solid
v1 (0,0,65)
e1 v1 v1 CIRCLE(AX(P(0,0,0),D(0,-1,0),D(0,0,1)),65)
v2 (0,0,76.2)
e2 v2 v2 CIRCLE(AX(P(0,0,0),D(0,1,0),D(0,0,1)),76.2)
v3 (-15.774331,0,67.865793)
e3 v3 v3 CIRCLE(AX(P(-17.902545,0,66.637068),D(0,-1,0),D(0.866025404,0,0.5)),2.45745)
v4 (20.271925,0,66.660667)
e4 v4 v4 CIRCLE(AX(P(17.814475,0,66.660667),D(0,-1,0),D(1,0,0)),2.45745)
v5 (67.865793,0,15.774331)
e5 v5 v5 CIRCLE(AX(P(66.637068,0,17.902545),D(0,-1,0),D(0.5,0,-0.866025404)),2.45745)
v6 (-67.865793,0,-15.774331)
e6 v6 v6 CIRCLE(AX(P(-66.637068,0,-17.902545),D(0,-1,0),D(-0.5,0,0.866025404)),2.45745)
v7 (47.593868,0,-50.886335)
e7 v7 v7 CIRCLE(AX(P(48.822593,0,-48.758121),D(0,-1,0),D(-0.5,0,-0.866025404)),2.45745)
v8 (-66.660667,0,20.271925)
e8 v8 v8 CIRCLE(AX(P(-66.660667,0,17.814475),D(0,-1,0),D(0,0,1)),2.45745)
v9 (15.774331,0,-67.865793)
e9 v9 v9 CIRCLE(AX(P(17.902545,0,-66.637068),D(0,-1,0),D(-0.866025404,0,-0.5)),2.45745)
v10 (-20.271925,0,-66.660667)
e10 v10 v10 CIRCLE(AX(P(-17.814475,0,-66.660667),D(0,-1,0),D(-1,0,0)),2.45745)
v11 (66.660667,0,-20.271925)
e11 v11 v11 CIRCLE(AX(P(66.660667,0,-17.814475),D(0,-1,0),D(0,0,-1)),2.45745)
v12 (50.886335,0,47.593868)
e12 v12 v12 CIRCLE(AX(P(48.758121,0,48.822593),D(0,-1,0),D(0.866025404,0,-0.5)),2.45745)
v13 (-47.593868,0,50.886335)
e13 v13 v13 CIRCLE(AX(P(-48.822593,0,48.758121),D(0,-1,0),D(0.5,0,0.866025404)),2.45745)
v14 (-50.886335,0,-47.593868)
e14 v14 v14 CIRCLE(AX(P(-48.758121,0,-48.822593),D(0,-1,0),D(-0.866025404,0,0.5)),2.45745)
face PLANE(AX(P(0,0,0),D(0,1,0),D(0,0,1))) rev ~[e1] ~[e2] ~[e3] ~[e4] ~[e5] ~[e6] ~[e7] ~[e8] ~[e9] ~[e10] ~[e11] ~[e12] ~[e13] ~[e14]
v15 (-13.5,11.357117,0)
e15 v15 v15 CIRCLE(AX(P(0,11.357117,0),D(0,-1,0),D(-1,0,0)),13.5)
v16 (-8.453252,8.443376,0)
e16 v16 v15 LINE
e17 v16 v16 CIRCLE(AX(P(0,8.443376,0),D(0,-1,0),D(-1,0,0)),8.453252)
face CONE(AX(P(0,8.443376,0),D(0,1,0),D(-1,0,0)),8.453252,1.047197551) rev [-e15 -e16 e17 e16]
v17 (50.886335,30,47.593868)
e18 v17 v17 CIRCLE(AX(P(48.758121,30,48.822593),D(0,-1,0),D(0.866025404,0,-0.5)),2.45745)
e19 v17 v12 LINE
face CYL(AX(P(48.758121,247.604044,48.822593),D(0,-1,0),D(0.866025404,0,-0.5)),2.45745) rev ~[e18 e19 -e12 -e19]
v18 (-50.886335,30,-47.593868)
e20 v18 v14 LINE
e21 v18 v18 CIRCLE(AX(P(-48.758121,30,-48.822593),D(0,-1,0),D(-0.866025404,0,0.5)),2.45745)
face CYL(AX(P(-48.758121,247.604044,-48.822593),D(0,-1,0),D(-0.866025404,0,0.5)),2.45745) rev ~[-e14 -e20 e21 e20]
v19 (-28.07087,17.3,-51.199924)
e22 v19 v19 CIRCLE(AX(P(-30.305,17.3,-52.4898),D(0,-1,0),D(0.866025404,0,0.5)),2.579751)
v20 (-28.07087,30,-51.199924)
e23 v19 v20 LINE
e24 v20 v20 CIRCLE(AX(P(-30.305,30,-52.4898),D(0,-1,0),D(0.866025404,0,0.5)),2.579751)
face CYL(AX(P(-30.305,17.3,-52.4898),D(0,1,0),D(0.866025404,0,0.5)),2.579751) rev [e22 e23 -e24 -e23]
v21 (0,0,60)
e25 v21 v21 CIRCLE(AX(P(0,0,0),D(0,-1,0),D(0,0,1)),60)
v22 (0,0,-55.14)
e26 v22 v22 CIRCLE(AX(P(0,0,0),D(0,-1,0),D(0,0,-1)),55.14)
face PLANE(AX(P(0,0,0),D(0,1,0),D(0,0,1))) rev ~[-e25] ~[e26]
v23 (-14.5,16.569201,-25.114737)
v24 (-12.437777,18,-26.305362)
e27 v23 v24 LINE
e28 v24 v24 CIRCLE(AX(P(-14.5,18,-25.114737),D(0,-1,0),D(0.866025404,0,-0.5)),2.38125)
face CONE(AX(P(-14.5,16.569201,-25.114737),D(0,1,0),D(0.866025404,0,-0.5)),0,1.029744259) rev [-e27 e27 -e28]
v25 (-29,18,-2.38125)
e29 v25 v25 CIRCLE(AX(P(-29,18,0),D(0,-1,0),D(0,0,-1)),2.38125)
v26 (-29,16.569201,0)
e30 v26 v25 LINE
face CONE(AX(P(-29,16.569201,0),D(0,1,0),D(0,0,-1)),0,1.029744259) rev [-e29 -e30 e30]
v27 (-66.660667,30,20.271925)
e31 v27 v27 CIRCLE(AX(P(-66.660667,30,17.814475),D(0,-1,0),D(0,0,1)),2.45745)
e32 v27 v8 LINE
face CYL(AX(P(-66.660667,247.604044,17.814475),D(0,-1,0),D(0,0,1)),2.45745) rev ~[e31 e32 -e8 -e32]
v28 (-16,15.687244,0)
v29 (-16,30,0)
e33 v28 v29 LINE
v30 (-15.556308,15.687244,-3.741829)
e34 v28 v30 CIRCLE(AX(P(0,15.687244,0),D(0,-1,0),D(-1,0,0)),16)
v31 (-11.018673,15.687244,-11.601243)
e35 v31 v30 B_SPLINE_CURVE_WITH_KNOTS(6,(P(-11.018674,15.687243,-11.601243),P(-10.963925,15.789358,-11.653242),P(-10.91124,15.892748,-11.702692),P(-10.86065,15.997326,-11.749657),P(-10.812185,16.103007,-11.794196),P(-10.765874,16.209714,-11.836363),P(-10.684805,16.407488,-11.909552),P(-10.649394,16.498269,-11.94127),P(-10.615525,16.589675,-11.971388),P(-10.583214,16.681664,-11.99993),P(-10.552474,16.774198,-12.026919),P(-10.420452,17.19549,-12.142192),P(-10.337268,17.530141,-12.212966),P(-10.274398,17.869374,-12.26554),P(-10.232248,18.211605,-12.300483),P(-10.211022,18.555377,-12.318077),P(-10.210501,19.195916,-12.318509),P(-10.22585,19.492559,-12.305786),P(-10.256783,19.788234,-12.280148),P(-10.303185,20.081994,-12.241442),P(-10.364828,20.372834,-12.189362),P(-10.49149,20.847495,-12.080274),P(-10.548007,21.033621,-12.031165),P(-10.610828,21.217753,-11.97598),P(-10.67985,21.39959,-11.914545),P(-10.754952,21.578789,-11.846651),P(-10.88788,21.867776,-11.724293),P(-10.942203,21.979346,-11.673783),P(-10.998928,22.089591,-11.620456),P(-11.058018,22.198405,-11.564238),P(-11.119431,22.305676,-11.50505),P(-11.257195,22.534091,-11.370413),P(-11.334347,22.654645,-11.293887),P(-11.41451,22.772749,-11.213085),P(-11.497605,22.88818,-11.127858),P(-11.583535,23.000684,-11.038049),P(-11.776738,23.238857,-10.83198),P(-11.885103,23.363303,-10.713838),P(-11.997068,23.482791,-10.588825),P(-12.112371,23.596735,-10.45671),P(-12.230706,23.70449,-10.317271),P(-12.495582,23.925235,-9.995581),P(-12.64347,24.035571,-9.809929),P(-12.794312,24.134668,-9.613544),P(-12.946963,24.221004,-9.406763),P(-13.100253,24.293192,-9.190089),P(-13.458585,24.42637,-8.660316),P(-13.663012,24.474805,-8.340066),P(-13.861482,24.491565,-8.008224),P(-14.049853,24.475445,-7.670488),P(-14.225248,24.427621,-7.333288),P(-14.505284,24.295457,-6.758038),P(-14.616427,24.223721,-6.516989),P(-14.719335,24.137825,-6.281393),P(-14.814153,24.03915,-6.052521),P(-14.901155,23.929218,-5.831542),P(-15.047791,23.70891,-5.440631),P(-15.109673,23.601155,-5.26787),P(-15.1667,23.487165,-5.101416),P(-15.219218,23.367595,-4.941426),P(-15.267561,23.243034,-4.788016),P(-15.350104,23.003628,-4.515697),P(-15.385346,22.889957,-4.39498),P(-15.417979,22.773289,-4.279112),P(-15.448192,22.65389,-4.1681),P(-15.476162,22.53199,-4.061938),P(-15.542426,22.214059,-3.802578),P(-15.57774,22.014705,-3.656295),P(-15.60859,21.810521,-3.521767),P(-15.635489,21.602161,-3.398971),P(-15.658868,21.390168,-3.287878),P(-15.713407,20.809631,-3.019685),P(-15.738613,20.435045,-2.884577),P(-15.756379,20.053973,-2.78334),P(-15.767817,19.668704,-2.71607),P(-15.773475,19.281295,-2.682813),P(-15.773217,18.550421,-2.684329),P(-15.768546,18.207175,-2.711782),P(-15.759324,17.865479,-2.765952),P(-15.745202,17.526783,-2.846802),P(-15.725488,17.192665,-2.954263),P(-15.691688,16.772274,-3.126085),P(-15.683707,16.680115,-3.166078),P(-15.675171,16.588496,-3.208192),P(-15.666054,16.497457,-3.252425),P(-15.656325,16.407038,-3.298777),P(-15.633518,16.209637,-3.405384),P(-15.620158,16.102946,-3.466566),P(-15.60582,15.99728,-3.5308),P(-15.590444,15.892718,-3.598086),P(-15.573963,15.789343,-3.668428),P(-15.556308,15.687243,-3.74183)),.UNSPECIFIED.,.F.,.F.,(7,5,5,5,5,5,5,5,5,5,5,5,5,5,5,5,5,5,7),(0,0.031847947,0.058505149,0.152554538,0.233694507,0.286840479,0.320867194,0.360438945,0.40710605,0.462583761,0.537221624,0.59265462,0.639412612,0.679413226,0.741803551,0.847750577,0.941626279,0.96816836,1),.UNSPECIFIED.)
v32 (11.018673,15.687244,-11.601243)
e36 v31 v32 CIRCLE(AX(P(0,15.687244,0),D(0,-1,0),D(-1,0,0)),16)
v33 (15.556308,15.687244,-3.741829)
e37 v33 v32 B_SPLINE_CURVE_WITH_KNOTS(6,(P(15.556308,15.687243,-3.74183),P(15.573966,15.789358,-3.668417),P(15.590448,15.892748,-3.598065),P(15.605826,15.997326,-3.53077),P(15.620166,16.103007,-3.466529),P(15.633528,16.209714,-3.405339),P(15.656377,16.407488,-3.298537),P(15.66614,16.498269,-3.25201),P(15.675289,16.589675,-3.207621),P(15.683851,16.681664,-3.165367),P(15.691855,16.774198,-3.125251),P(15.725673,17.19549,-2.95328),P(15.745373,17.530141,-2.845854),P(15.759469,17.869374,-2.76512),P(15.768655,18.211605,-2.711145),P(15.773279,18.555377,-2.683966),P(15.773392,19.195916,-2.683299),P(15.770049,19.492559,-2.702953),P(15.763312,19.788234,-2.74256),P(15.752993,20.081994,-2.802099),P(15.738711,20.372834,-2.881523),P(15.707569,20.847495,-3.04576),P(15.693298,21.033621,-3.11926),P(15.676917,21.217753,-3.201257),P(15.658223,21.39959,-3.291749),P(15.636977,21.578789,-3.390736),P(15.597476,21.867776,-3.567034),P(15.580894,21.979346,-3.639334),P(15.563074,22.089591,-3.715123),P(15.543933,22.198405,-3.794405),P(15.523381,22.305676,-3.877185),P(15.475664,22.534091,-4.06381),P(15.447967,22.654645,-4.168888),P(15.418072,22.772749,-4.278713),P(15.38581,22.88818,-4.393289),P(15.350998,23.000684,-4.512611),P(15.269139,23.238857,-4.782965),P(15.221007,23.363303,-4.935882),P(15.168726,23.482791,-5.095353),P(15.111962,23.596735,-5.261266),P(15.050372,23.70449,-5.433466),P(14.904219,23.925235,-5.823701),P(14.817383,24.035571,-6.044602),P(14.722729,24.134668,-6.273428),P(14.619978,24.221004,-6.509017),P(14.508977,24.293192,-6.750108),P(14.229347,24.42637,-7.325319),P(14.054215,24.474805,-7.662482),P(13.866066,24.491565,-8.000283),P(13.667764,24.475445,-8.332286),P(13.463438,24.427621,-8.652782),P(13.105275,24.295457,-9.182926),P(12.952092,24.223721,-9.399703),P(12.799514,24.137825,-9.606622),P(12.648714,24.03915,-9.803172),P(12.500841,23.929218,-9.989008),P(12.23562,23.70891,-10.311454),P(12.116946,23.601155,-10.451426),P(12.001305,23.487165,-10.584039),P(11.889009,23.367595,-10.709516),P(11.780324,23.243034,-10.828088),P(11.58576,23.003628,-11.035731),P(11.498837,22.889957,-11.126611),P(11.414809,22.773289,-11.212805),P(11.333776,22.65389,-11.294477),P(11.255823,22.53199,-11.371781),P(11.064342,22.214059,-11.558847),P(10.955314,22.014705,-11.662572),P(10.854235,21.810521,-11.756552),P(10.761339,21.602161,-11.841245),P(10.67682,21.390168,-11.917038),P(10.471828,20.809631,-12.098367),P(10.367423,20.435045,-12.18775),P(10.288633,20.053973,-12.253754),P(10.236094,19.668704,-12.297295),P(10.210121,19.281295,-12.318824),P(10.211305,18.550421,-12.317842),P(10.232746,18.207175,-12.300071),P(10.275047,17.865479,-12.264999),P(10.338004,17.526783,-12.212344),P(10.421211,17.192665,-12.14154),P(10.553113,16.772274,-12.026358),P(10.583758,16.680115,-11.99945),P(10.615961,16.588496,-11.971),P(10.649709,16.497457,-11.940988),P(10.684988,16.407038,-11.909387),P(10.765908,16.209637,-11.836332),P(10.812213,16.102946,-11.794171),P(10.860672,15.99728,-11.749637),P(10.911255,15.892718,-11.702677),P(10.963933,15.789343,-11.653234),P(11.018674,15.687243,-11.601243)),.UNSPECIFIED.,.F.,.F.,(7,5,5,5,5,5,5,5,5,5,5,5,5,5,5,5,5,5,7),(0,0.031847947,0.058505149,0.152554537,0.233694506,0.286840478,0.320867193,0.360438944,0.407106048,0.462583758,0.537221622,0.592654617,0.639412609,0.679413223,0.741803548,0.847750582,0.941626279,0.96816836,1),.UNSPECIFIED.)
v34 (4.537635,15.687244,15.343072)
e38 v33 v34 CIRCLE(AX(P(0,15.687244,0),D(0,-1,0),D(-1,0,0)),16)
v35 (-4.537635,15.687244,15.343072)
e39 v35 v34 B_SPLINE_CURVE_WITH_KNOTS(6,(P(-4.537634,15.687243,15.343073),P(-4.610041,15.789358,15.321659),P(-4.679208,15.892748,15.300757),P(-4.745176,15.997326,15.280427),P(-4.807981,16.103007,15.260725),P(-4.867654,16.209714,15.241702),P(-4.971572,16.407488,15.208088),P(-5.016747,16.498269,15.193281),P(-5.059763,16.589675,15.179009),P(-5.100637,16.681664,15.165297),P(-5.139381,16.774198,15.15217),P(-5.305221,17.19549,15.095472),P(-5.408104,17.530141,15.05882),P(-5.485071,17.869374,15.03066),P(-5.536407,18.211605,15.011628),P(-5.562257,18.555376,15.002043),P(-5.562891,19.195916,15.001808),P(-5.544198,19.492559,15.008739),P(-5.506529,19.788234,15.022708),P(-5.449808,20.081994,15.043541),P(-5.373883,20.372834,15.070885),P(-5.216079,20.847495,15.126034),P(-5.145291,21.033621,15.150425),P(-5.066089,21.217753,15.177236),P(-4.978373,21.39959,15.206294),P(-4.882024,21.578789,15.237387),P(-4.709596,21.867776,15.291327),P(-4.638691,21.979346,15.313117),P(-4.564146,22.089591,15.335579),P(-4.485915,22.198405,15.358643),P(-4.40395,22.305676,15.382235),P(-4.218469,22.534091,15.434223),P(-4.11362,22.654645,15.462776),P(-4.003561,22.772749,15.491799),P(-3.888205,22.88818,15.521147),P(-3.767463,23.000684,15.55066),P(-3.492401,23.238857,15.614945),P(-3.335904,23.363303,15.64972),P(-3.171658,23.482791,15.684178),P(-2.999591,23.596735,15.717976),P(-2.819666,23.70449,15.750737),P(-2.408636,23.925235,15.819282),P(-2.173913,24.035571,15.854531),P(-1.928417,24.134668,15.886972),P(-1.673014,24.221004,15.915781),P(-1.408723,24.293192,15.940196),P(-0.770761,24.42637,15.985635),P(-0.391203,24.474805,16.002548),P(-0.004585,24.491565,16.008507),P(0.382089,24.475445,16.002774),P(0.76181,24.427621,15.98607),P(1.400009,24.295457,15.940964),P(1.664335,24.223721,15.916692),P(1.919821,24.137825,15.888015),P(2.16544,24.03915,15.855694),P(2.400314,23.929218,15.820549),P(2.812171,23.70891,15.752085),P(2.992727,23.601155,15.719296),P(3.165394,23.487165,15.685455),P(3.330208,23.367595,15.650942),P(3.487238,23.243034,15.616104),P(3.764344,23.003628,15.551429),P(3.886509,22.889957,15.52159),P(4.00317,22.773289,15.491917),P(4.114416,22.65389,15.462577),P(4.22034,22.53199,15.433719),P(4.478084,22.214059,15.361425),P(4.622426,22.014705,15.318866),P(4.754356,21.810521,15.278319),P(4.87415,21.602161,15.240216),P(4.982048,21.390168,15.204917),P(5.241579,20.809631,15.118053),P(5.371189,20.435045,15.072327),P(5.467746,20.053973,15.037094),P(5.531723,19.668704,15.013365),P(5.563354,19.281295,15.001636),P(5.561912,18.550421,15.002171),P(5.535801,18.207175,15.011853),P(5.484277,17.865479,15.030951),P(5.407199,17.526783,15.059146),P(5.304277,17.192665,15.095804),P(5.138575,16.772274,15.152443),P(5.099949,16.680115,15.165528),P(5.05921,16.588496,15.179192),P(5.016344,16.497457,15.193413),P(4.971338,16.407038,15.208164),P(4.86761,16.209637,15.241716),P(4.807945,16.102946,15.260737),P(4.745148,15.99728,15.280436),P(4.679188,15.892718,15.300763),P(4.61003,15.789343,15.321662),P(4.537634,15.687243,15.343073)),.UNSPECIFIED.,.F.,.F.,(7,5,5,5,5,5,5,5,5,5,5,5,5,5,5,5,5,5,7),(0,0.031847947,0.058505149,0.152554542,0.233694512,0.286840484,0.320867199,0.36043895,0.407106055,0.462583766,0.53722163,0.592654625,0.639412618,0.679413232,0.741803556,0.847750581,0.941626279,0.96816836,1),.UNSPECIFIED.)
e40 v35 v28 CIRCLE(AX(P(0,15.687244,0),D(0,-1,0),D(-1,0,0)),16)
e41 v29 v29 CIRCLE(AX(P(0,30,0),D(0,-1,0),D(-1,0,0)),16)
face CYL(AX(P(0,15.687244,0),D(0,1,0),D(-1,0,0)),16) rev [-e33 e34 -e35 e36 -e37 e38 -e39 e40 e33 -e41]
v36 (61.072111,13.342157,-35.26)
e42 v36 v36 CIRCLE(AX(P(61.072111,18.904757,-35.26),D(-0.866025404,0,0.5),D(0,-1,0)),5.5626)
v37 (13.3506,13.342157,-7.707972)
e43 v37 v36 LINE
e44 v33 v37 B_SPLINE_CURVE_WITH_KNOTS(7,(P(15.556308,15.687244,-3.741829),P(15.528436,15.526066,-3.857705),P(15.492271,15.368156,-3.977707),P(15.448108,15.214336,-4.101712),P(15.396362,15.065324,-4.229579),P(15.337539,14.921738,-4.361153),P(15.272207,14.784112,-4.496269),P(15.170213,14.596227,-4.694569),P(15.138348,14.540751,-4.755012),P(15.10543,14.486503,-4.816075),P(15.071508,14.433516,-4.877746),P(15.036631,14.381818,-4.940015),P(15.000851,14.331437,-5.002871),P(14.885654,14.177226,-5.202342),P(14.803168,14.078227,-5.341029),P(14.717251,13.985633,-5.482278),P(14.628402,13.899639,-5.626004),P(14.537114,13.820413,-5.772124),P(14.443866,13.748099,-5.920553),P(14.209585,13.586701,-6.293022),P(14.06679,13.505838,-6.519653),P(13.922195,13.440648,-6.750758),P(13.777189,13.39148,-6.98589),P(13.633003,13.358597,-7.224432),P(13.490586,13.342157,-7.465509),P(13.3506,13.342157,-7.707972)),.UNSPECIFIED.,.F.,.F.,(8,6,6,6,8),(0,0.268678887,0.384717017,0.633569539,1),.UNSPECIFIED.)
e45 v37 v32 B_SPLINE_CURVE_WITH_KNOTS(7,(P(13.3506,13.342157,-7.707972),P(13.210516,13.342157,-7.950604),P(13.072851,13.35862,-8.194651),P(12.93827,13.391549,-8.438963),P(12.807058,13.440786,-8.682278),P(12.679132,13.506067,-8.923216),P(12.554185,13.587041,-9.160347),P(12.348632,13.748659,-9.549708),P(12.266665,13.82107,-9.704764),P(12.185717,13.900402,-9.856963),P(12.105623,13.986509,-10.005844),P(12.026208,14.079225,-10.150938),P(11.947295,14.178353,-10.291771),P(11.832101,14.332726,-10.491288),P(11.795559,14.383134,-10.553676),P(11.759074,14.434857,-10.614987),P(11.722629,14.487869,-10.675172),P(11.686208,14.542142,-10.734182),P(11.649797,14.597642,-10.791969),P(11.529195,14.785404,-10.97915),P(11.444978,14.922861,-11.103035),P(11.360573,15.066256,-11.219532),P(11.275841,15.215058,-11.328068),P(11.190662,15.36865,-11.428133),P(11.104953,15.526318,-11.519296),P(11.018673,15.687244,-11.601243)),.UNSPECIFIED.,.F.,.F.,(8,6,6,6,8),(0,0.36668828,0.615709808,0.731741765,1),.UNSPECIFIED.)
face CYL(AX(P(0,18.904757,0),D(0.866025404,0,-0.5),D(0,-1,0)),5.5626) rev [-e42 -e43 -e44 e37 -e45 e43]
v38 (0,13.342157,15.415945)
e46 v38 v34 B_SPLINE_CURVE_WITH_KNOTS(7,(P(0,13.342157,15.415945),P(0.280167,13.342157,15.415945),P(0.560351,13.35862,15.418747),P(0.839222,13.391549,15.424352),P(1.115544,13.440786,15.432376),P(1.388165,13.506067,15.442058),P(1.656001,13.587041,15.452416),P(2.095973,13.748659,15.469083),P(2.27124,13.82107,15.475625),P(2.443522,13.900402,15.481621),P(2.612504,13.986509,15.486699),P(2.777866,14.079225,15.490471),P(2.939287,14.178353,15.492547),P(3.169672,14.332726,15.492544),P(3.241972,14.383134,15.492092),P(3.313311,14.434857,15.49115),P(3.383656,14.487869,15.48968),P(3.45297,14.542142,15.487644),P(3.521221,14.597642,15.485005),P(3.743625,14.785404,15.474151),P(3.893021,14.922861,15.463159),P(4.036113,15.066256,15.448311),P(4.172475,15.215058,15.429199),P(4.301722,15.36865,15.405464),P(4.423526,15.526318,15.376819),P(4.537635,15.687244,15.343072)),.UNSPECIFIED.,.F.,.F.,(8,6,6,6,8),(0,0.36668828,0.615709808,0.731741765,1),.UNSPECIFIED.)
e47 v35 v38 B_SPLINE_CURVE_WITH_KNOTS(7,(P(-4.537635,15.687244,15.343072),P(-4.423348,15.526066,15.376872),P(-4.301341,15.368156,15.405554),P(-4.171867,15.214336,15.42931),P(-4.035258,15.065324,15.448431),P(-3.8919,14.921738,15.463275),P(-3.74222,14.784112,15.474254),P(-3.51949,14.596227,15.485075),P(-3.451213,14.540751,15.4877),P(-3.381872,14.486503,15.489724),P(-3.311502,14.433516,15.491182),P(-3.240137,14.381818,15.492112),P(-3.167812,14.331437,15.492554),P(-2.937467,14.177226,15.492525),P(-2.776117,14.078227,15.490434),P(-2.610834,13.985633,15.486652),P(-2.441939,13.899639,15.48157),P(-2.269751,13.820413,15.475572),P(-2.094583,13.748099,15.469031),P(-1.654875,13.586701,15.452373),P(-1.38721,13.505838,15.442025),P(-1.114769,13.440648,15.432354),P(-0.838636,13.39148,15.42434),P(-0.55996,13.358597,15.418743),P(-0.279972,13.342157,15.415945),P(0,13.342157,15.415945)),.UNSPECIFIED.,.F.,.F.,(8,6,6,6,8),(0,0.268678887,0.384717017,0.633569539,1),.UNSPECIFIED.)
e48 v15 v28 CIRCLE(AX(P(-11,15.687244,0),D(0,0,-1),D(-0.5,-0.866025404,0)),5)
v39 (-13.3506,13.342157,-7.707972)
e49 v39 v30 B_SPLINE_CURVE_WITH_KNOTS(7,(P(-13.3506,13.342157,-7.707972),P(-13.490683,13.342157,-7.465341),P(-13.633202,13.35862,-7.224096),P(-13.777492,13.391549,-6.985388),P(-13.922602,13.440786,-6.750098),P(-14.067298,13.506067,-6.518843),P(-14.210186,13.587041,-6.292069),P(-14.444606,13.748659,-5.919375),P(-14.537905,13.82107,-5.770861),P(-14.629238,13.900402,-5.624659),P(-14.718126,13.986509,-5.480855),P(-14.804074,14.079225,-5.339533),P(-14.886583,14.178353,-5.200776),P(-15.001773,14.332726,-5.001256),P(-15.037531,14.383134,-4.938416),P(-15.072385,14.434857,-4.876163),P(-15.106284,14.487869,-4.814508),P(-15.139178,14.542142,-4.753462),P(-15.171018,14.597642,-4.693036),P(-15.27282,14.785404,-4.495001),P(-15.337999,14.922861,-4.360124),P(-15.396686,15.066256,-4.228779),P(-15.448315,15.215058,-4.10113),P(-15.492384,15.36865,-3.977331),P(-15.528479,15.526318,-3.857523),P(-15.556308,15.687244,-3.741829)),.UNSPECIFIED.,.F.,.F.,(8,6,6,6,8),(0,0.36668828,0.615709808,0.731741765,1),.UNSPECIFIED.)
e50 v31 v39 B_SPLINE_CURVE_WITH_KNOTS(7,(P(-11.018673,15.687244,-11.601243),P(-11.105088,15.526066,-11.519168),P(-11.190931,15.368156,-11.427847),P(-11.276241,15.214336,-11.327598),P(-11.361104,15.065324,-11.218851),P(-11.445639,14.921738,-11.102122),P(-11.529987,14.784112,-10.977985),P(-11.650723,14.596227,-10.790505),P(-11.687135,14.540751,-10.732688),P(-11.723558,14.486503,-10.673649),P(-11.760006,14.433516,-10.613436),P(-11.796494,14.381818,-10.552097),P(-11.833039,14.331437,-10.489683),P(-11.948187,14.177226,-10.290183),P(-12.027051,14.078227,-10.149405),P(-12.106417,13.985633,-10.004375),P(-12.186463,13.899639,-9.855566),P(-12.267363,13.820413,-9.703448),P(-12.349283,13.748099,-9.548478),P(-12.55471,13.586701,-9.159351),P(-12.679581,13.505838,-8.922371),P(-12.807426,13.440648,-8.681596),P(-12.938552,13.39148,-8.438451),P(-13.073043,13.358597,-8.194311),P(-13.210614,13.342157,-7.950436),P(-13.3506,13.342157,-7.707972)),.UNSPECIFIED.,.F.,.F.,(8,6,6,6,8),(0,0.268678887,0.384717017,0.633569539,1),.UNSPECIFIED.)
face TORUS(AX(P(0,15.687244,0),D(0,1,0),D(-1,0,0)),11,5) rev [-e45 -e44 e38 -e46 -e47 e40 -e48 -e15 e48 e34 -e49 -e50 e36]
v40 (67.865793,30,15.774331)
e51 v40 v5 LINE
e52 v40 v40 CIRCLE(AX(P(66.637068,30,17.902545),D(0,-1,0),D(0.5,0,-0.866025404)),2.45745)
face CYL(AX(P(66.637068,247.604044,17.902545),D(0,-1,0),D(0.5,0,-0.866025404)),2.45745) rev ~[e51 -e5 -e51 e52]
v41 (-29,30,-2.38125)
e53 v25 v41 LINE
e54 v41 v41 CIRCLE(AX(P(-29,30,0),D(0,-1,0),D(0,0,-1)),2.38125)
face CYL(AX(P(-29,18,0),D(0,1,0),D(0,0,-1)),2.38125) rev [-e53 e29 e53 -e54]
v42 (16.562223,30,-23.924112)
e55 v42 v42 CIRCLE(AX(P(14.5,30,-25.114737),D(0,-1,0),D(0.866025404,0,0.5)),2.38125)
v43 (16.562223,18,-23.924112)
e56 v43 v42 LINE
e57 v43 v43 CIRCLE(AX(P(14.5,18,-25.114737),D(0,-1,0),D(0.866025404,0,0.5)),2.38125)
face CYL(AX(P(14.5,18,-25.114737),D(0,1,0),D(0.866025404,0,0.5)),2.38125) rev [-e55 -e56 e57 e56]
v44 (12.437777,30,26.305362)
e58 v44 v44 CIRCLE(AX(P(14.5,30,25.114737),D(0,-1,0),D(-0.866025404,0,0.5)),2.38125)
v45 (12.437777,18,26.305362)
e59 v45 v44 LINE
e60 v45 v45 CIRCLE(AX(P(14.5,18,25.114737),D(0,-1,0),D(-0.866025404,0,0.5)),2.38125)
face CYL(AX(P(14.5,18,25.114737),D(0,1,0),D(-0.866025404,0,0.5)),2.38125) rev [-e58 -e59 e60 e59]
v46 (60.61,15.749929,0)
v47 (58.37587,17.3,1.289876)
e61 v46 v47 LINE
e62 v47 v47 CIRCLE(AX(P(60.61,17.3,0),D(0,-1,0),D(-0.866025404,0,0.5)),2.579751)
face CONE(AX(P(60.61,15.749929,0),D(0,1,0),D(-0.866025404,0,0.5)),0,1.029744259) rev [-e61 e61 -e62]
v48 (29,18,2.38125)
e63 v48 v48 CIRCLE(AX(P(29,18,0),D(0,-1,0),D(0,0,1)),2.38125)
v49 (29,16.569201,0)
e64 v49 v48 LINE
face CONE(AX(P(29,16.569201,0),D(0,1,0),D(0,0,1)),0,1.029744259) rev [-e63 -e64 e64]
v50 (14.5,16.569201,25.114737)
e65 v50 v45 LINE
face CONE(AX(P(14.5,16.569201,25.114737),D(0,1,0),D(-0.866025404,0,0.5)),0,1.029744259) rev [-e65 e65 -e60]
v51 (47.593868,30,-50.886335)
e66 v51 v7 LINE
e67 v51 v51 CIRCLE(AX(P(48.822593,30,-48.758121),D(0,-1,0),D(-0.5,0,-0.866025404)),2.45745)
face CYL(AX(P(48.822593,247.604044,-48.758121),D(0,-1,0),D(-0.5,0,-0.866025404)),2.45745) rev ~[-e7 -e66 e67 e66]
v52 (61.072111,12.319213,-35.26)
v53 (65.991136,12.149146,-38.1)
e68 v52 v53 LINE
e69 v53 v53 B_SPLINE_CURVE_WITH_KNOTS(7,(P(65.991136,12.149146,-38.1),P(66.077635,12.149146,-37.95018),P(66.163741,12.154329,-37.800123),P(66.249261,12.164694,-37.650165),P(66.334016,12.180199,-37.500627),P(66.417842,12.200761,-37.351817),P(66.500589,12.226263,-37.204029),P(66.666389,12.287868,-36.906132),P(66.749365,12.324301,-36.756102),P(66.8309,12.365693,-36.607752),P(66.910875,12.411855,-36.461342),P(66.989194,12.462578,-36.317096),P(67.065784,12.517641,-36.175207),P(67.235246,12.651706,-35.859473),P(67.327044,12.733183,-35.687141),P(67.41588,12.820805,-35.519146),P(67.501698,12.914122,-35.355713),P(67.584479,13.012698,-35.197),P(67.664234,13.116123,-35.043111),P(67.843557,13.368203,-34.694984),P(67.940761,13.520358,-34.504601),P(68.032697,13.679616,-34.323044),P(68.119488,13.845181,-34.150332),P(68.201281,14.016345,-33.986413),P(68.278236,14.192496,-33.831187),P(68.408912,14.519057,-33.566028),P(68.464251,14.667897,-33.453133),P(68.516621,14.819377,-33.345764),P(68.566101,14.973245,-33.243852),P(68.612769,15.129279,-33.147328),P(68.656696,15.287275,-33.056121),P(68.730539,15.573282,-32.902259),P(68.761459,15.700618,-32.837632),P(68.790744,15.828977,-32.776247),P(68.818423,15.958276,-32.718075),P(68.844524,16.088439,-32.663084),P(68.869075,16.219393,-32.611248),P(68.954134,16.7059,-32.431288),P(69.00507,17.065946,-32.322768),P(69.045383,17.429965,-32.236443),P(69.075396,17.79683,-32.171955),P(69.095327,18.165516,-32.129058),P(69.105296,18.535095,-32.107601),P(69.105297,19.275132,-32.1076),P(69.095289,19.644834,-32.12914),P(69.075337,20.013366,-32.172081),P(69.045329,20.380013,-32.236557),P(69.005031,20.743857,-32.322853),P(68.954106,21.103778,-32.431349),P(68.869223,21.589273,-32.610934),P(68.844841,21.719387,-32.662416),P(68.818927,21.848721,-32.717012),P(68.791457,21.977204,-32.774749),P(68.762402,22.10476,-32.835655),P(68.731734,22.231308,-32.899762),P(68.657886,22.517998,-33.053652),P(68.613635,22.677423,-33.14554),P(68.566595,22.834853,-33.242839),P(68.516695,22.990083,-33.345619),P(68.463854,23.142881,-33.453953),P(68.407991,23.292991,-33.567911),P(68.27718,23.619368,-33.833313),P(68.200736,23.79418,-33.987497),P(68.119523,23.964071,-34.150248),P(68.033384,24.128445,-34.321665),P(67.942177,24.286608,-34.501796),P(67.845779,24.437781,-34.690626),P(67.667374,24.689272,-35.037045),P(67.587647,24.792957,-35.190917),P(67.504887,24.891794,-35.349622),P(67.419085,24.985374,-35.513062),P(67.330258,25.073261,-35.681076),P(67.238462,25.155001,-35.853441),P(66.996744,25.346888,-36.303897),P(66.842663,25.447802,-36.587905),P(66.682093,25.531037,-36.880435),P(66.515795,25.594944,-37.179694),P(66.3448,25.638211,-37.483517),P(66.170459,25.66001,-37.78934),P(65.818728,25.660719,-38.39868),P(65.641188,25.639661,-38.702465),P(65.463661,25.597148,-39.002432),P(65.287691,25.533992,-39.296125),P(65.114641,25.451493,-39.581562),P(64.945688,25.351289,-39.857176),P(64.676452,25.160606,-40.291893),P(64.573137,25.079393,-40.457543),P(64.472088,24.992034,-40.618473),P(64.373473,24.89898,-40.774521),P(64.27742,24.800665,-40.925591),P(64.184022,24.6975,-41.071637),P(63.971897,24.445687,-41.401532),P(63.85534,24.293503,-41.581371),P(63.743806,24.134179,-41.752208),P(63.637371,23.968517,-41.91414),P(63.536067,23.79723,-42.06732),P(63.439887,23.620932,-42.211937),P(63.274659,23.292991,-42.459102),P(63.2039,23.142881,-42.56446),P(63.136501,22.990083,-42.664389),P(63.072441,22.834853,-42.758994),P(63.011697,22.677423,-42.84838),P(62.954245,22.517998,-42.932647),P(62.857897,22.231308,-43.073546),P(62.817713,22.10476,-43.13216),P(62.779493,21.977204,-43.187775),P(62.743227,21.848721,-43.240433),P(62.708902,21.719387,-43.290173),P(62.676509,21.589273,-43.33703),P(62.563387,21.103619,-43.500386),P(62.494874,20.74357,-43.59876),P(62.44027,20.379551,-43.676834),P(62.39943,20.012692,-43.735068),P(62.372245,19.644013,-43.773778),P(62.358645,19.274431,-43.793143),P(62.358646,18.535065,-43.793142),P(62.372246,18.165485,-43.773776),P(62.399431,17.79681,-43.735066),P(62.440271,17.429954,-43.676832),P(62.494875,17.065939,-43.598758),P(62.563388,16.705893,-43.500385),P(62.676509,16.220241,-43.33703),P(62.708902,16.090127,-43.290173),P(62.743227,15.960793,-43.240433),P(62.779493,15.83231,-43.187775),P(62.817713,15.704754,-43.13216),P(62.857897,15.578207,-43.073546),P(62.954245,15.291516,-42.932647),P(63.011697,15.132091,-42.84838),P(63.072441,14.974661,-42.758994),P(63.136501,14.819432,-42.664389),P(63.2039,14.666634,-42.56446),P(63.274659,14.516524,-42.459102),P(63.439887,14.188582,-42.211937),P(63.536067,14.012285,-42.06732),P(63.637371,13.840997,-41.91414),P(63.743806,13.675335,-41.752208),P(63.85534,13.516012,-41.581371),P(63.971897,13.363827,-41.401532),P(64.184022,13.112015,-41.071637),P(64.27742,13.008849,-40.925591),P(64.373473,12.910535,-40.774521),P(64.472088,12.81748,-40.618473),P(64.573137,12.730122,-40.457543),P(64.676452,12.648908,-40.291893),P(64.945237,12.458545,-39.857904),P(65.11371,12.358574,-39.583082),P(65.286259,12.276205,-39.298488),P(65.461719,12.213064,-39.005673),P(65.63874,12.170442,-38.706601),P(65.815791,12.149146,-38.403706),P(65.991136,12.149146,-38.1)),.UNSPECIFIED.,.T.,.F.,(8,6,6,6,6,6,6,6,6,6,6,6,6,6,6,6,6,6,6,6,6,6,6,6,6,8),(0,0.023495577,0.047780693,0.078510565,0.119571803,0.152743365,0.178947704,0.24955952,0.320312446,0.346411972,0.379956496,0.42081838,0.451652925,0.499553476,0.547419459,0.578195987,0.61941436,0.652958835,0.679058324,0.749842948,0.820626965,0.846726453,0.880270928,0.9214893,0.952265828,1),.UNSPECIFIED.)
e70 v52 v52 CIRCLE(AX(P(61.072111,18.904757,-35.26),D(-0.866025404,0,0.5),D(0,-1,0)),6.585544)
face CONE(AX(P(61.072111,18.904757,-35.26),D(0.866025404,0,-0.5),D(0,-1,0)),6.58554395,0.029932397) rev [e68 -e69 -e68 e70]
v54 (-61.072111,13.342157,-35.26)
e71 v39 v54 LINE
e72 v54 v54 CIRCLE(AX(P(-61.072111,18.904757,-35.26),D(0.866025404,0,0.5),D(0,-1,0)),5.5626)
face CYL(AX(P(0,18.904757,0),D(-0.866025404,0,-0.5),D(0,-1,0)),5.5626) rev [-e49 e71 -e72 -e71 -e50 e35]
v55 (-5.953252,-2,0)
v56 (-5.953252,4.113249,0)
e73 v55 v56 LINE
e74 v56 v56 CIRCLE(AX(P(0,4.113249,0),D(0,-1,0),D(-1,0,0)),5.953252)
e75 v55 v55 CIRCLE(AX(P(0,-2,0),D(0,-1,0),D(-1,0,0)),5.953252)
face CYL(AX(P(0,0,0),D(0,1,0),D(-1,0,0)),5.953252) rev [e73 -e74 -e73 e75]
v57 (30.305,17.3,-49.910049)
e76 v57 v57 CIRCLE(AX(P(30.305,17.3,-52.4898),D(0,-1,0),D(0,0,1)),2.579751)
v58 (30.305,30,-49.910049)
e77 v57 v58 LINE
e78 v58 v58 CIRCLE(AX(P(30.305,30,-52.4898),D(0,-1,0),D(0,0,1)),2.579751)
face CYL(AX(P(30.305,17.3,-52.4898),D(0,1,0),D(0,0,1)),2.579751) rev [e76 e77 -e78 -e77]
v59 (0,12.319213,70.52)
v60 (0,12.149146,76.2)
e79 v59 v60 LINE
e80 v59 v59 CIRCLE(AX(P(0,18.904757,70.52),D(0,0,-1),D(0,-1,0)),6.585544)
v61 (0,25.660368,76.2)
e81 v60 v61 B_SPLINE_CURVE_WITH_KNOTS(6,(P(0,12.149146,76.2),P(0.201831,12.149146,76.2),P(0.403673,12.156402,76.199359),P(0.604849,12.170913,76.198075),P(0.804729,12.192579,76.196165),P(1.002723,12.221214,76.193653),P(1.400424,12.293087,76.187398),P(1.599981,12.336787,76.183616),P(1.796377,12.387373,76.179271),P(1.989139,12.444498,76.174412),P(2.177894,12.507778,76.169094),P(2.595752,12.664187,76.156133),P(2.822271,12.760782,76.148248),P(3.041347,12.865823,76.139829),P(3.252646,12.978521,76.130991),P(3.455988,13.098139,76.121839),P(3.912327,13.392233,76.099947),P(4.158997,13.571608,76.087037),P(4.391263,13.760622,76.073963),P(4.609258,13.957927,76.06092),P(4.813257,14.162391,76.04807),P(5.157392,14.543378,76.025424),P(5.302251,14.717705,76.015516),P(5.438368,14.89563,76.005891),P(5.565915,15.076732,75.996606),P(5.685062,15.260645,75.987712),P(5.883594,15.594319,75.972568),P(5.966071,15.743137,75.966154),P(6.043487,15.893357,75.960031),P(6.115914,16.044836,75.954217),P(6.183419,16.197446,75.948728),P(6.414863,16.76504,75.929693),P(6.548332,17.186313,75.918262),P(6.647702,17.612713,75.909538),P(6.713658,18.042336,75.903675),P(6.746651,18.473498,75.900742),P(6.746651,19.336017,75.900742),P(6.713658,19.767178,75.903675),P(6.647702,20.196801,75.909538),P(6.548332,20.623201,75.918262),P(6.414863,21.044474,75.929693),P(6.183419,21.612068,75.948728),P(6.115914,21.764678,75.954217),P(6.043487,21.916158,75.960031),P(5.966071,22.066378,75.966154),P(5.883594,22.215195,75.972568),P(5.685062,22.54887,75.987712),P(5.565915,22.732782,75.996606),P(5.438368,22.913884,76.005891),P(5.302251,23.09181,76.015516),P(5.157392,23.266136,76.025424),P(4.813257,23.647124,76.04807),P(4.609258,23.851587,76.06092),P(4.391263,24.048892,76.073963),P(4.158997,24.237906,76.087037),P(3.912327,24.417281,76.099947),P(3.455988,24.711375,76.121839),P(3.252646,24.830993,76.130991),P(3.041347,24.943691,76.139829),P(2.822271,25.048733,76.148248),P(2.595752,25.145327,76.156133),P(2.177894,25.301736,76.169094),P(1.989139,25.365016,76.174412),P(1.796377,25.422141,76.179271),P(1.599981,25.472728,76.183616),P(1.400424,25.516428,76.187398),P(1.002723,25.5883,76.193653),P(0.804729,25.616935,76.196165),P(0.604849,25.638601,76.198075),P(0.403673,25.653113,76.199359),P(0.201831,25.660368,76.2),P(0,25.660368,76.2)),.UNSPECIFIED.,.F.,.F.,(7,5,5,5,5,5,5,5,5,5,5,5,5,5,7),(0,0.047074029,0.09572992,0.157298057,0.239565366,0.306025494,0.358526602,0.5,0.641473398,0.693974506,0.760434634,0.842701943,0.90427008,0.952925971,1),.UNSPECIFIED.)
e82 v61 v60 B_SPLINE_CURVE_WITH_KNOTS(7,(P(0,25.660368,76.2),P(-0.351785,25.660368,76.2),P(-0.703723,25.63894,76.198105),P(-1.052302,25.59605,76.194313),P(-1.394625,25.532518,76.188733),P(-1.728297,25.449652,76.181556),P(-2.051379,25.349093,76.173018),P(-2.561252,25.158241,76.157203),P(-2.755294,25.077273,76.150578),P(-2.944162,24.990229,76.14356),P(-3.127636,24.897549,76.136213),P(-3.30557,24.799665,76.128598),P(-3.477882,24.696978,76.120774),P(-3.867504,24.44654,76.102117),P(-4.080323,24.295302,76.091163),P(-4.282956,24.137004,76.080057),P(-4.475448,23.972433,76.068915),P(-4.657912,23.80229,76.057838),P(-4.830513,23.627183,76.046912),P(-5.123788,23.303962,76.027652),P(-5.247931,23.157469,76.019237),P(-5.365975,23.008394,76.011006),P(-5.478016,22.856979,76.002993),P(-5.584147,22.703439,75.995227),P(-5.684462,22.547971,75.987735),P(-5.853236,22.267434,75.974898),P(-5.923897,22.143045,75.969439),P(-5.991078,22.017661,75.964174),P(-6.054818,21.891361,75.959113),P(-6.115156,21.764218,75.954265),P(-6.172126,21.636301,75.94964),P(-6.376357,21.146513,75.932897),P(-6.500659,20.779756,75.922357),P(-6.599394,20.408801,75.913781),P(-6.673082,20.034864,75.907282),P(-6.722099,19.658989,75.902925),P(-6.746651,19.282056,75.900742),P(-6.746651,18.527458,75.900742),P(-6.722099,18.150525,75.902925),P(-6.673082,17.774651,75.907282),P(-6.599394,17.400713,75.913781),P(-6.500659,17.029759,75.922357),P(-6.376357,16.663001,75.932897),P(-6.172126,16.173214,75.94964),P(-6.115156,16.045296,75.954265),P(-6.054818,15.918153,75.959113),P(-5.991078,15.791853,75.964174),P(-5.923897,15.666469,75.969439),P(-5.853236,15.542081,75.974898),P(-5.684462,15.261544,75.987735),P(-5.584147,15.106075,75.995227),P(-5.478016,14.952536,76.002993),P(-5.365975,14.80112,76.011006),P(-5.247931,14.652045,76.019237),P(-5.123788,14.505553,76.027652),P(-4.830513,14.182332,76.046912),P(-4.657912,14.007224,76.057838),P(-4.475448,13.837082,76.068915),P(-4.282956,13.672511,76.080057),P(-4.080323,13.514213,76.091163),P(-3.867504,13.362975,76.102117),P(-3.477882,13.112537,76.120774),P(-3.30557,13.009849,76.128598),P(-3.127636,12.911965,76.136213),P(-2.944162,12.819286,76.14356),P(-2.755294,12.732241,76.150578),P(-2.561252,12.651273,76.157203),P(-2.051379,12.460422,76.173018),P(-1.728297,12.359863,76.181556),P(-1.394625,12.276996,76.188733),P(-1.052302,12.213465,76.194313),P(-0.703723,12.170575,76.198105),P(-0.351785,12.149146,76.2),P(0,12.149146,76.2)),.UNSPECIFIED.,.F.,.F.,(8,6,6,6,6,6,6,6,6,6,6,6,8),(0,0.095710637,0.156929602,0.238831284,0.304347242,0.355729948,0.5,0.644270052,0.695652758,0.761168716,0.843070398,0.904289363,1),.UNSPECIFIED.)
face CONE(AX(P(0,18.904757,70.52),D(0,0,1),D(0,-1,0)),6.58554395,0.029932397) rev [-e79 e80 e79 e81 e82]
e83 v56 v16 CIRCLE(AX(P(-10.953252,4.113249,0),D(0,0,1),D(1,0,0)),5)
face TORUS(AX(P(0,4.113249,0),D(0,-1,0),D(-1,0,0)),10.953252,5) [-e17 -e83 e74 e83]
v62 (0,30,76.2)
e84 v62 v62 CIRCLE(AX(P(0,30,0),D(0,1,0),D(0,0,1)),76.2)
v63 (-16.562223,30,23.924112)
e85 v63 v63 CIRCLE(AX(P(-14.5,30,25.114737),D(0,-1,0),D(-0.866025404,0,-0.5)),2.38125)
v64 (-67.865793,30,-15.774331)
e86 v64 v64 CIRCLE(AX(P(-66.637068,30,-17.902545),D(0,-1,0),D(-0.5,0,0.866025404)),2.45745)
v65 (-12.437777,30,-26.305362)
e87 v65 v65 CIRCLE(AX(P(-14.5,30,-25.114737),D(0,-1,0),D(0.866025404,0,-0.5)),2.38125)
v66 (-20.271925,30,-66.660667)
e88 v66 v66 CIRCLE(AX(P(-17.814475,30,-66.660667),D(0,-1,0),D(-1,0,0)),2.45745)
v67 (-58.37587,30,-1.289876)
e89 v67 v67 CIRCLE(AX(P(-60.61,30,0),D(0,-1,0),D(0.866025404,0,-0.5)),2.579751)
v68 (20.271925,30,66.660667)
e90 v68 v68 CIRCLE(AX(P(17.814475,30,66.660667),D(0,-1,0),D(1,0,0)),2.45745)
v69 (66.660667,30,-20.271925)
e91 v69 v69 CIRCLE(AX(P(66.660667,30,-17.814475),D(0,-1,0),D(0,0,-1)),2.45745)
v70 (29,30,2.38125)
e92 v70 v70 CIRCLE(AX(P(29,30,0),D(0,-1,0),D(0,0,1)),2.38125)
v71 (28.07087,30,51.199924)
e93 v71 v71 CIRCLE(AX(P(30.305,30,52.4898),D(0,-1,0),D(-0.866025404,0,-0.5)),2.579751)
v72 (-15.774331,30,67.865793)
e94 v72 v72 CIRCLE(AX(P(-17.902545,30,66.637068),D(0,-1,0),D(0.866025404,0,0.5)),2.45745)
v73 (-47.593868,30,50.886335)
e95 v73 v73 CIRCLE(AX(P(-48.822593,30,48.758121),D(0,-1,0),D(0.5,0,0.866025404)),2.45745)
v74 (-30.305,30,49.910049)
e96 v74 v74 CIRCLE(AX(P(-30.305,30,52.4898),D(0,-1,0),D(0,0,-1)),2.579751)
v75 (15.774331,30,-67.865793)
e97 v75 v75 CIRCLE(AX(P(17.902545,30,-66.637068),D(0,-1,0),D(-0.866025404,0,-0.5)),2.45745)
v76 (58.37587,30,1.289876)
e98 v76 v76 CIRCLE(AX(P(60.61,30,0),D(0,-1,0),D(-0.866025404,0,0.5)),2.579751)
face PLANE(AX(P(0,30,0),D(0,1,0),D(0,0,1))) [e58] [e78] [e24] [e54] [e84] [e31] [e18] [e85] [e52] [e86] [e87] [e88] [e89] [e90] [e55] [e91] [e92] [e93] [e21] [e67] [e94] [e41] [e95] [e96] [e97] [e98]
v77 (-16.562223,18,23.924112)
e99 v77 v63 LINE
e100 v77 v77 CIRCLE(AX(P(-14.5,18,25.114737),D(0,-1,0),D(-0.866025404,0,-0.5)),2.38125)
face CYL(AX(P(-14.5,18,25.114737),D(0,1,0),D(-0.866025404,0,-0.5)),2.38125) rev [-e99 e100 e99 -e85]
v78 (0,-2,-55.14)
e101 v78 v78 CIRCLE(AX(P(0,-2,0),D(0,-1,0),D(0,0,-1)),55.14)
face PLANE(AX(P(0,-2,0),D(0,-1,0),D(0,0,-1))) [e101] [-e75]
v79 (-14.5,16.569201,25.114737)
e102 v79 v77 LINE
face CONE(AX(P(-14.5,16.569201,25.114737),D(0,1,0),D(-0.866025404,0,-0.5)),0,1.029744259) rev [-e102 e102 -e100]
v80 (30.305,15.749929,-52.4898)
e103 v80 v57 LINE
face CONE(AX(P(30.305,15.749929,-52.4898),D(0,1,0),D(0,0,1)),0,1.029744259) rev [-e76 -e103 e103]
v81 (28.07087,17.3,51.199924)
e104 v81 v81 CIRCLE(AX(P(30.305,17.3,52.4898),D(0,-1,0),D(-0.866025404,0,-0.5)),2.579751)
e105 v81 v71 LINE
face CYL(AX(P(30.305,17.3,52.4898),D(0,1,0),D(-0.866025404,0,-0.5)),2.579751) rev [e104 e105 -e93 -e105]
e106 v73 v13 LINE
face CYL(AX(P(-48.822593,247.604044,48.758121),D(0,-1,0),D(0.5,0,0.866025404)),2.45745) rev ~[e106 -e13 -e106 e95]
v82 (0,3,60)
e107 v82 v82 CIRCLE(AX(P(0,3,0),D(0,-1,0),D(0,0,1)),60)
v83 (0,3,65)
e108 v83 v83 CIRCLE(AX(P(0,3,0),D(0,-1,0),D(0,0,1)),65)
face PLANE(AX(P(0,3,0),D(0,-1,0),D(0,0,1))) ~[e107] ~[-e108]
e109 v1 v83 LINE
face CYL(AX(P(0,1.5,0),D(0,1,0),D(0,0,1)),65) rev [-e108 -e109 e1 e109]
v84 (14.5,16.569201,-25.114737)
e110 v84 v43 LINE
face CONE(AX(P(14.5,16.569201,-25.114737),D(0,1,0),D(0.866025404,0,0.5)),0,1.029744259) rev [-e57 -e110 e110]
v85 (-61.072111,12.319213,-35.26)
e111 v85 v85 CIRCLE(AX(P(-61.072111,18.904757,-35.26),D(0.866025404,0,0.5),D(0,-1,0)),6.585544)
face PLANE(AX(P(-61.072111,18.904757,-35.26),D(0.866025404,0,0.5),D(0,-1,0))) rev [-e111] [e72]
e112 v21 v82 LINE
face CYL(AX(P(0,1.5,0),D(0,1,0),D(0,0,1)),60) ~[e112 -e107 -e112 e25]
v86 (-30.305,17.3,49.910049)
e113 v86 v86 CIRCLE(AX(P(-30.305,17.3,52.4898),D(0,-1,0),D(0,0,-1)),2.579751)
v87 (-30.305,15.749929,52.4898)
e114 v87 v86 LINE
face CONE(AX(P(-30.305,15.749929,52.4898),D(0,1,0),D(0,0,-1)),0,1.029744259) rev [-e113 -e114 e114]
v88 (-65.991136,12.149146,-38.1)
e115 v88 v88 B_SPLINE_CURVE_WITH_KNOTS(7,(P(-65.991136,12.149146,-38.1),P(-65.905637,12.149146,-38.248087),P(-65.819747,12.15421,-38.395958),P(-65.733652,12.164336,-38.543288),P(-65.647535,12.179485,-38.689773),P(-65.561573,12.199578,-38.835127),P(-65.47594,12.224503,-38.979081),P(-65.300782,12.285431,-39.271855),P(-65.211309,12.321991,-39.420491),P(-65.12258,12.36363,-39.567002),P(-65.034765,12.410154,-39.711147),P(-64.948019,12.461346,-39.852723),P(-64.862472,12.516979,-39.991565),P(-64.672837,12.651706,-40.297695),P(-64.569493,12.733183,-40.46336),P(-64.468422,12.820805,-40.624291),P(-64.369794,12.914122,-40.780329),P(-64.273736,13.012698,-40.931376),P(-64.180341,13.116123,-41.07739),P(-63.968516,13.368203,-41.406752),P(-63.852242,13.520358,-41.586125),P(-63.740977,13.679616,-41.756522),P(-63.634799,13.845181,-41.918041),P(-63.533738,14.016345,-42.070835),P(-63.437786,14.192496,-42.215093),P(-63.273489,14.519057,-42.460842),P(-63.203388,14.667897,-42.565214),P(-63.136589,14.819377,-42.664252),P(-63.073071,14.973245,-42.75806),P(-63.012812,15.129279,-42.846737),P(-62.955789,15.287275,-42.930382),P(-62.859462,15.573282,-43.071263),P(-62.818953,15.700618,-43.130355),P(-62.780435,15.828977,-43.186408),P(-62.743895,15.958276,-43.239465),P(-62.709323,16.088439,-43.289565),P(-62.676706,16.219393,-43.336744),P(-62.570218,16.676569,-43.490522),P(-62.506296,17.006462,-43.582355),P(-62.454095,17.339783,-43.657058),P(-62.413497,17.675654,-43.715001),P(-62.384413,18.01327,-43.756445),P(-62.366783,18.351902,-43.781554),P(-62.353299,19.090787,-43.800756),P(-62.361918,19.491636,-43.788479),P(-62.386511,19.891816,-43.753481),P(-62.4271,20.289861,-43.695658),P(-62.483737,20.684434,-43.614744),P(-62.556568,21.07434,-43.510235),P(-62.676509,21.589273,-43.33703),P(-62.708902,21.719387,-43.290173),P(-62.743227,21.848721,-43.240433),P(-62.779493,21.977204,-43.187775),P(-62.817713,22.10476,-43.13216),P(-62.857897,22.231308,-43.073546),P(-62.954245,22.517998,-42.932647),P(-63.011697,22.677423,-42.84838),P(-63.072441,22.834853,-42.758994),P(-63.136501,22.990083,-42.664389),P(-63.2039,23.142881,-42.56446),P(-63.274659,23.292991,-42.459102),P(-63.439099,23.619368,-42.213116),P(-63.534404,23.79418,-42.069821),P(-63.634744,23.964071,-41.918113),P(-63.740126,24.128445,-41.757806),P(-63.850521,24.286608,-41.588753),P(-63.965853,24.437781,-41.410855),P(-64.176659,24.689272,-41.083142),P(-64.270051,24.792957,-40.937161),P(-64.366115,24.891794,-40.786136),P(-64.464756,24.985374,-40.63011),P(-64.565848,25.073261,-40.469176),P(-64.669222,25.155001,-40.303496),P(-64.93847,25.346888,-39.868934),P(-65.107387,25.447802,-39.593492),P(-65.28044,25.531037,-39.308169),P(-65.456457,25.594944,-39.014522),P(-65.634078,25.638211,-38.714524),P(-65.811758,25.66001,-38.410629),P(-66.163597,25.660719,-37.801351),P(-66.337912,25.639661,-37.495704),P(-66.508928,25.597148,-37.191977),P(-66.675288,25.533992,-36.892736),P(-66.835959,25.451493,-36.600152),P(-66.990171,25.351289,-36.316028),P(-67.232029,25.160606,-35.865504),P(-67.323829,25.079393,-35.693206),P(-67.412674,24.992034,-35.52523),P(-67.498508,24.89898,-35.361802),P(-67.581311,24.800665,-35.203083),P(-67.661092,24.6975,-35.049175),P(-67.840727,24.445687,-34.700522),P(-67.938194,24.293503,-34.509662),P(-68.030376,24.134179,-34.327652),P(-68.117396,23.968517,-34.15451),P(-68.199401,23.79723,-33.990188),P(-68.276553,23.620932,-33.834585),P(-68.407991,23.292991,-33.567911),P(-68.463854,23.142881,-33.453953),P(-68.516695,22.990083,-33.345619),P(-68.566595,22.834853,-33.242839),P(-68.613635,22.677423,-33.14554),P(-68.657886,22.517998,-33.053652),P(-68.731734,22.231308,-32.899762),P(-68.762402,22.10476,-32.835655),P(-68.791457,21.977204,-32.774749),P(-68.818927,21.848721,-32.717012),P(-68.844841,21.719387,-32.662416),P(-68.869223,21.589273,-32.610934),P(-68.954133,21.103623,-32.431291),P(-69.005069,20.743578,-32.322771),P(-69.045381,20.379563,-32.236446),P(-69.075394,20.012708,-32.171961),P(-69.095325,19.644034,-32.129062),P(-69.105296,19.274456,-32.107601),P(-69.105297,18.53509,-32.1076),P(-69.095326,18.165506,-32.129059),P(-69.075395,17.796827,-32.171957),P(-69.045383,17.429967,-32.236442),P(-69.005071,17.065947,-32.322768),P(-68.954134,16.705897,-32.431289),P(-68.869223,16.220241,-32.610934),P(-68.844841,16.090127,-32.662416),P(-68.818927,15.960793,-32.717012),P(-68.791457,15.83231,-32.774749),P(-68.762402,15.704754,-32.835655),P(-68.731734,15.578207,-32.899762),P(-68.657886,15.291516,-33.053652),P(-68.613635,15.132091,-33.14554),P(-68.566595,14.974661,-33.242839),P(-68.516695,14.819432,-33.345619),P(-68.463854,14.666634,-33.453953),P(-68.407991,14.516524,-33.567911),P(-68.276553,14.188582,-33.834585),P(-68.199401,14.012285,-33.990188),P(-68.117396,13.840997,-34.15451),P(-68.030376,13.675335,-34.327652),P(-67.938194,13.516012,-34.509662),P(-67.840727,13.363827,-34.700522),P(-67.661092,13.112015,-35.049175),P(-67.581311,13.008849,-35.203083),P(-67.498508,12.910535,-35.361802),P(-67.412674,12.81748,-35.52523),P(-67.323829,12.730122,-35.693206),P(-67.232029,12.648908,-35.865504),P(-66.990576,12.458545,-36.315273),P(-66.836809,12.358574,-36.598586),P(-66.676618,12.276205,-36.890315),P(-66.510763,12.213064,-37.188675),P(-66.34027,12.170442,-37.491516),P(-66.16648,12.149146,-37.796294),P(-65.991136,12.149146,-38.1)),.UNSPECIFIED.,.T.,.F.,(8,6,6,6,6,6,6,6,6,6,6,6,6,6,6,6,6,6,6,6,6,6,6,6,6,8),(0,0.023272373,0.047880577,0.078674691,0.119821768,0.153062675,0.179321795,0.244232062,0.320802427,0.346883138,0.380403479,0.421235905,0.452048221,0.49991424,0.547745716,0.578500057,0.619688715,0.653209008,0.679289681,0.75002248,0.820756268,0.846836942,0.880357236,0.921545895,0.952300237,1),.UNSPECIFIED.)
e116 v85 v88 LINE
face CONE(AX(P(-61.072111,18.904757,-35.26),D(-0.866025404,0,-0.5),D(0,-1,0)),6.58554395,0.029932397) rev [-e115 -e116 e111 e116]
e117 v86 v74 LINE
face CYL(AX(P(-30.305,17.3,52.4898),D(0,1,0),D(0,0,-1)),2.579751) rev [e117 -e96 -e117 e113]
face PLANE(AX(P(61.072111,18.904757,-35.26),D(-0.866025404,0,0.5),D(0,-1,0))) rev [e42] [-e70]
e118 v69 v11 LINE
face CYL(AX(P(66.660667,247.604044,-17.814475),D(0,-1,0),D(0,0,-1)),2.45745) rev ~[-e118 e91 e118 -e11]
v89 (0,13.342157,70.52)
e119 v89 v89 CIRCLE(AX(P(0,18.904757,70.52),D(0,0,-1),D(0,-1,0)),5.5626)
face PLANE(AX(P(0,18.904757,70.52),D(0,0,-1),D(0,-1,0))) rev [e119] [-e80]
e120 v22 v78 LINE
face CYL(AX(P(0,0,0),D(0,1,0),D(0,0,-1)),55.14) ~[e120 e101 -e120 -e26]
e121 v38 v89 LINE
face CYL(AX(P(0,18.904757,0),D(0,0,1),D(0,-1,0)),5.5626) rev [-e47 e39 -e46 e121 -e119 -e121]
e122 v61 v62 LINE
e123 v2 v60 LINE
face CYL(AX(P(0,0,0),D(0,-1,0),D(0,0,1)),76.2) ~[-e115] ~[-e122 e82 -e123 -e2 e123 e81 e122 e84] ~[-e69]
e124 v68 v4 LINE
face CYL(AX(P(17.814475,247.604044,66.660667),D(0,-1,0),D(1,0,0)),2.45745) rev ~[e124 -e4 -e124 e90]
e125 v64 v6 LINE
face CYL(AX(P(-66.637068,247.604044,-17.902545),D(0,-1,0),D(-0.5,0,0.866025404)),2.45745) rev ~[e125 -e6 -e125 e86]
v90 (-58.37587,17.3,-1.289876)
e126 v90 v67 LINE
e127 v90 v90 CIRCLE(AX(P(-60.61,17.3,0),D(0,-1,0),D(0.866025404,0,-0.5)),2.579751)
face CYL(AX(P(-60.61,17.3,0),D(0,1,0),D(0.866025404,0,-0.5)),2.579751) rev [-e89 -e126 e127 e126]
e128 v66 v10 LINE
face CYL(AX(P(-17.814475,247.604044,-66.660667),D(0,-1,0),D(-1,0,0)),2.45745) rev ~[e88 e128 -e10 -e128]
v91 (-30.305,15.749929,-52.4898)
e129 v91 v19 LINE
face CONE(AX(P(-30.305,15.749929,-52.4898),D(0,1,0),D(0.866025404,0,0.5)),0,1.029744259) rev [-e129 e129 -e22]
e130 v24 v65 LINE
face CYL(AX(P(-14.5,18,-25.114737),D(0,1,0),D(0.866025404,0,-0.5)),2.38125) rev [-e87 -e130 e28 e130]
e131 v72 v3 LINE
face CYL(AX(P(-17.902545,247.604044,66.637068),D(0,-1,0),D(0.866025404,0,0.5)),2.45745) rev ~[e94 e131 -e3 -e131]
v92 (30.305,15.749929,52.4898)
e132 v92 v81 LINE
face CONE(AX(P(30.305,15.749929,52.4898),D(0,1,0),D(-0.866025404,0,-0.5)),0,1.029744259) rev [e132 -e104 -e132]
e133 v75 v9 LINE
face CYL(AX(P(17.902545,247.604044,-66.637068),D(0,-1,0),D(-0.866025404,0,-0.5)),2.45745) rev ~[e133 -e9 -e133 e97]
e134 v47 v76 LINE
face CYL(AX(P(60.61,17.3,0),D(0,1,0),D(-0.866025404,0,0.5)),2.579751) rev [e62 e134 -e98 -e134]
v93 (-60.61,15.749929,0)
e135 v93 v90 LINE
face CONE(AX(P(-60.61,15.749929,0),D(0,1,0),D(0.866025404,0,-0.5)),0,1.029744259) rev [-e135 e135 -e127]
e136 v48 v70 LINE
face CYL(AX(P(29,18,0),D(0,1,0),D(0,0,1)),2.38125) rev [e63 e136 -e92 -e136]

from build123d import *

# Parameters (mm, degrees)
SKETCH1_R                    = 76.2
BOSS_EXTRUDE1_DEPTH          = 30
CIRPATTERN1_COUNT            = 3
F_10_0_1935_DIAMETER_HOLE1_D = 4.9149
CIRPATTERN2_COUNT            = 12
CIRPATTERN3_COUNT            = 6
SKETCH21_W                   = 5
SKETCH21_H                   = 3
CIRPATTERN4_COUNT            = 6
SKETCH29_R                   = 55.14
SKETCH29_R_2                 = 5.953252
BOSS_EXTRUDE2_DEPTH          = 2


with BuildPart() as part:
    # Sketch1 → Boss-Extrude1 (new body)
    with BuildSketch(Plane(origin=(0, 0, 0), x_dir=(1, 0, 0), z_dir=(0, 1, 0))):
        with Locations(Location((0, 0, 0), (0, 0, 270))):
            Circle(SKETCH1_R)
    extrude(amount=BOSS_EXTRUDE1_DEPTH)

    # Sketch2 → Cut-Revolve1 (revolve, cut)
    with BuildSketch(Plane.XY):
        with BuildLine():
            Line((-5.953252, 0), (-5.953252, 4.113248654))
            ThreePointArc((-5.953252, 4.113248654), (-6.623124981, 6.613248654), (-8.453252, 8.443375673))
            Line((-8.453252, 8.443375673), (-13.5, 11.357116989))
            ThreePointArc((-13.5, 11.357116989), (-15.330127019, 13.187244008), (-16, 15.687244008))
            Line((-16, 15.687244008), (-16, 30))
            Line((-16, 30), (0, 30))
            Line((0, 30), (0, 0))
            Line((0, 0), (-5.953252, 0))
        make_face()
    revolve(axis=Axis((0, 30, 0), (0, -1, 0)), mode=Mode.SUBTRACT)

    # Sketch5 → 1/4 NPT Tapped Hole1 (revolve, cut)
    with BuildSketch(Plane(origin=(0, 18.904757199, 80.54), x_dir=(0, -1, 0), z_dir=(1, 0, 0))):
        Polygon((0, 0), (0, 83.882347279), (5.5626, 80.54), (5.5626, 10.02), (6.58554395, 10.02), (6.8579873, 0.9207627), (7.77875, 0), align=None)
    f_1_4_npt_tapped_hole1 = revolve(axis=Axis((0, 18.904757199, 86.89), (0, 0, -1)), mode=Mode.SUBTRACT)

    # CirPattern1: 1/4 NPT Tapped Hole1 ×3 about axis
    cirpattern1_axis = Axis((0, 0, 0), (0, 1, 0))
    for i in range(1, CIRPATTERN1_COUNT):
        add(f_1_4_npt_tapped_hole1.rotate(cirpattern1_axis, i * 360 / CIRPATTERN1_COUNT), mode=Mode.SUBTRACT)

    # #10 (0.1935) Diameter Hole1 (through all)
    with Locations(Plane(origin=(0, 30, 0), x_dir=(1, 0, 0), z_dir=(0, 1, 0))):
        with Locations((-17.814475001, 66.660666667)):
            f_10_0_1935_diameter_hole1 = Hole(F_10_0_1935_DIAMETER_HOLE1_D / 2)

    # CirPattern2: #10 (0.1935) Diameter Hole1 ×12 about axis
    cirpattern2_axis = Axis((0, 0, 0), (0, 1, 0))
    for i in range(1, CIRPATTERN2_COUNT):
        add(f_10_0_1935_diameter_hole1.rotate(cirpattern2_axis, i * 360 / CIRPATTERN2_COUNT), mode=Mode.SUBTRACT)

    # Sketch19 → 13/64 (0.20313) Diameter Hole3 (revolve, cut)
    with BuildSketch(Plane(origin=(30.305, 30, -52.489799723), x_dir=(0, 0, 1), z_dir=(1, 0, 0))):
        Polygon((0, 0), (0, 14.250070783), (2.579751, 12.7), (2.579751, 0), align=None)
    f_13_64_0_20313_diameter_hole3 = revolve(axis=Axis((30.305, 36.35, -52.489799723), (0, -1, 0)), mode=Mode.SUBTRACT)

    # CirPattern3: 13/64 (0.20313) Diameter Hole3 ×6 about axis
    cirpattern3_axis = Axis((0, 0, 0), (0, 1, 0))
    for i in range(1, CIRPATTERN3_COUNT):
        add(f_13_64_0_20313_diameter_hole3.rotate(cirpattern3_axis, i * 360 / CIRPATTERN3_COUNT), mode=Mode.SUBTRACT)

    # Sketch21 → Cut-Revolve2 (revolve, cut)
    with BuildSketch(Plane.XY, mode=Mode.PRIVATE) as cut_revolve2_sk:
        with Locations((62.5, 1.5)):
            Rectangle(SKETCH21_W, SKETCH21_H)
    revolve(cut_revolve2_sk.sketch.rotate(Axis((0, 0, 0), (0, -1, 0)), 90), axis=Axis((0, 0, 0), (0, -1, 0)), mode=Mode.SUBTRACT)

    # Sketch28 → 3/16 (0.1875) Diameter Hole1 (revolve, cut)
    with BuildSketch(Plane(origin=(29, 30, 0), x_dir=(0, 0, 1), z_dir=(1, 0, 0))):
        Polygon((0, 0), (0, 13.430799349), (2.38125, 12), (2.38125, 0), align=None)
    f_3_16_0_1875_diameter_hole1 = revolve(axis=Axis((29, 36.35, 0), (0, -1, 0)), mode=Mode.SUBTRACT)

    # CirPattern4: 3/16 (0.1875) Diameter Hole1 ×6 about axis
    cirpattern4_axis = Axis((0, 0, 0), (0, 1, 0))
    for i in range(1, CIRPATTERN4_COUNT):
        add(f_3_16_0_1875_diameter_hole1.rotate(cirpattern4_axis, i * 360 / CIRPATTERN4_COUNT), mode=Mode.SUBTRACT)

    # Sketch29 → Boss-Extrude2 (add)
    with BuildSketch(Plane(origin=(0, 0, 0), x_dir=(-1, 0, 0), z_dir=(0, -1, 0))):
        with Locations(Location((0, 0, 0), (0, 0, 90))):
            Circle(SKETCH29_R)
        Circle(SKETCH29_R_2, mode=Mode.SUBTRACT)
    extrude(amount=BOSS_EXTRUDE2_DEPTH)


solid = part.part
